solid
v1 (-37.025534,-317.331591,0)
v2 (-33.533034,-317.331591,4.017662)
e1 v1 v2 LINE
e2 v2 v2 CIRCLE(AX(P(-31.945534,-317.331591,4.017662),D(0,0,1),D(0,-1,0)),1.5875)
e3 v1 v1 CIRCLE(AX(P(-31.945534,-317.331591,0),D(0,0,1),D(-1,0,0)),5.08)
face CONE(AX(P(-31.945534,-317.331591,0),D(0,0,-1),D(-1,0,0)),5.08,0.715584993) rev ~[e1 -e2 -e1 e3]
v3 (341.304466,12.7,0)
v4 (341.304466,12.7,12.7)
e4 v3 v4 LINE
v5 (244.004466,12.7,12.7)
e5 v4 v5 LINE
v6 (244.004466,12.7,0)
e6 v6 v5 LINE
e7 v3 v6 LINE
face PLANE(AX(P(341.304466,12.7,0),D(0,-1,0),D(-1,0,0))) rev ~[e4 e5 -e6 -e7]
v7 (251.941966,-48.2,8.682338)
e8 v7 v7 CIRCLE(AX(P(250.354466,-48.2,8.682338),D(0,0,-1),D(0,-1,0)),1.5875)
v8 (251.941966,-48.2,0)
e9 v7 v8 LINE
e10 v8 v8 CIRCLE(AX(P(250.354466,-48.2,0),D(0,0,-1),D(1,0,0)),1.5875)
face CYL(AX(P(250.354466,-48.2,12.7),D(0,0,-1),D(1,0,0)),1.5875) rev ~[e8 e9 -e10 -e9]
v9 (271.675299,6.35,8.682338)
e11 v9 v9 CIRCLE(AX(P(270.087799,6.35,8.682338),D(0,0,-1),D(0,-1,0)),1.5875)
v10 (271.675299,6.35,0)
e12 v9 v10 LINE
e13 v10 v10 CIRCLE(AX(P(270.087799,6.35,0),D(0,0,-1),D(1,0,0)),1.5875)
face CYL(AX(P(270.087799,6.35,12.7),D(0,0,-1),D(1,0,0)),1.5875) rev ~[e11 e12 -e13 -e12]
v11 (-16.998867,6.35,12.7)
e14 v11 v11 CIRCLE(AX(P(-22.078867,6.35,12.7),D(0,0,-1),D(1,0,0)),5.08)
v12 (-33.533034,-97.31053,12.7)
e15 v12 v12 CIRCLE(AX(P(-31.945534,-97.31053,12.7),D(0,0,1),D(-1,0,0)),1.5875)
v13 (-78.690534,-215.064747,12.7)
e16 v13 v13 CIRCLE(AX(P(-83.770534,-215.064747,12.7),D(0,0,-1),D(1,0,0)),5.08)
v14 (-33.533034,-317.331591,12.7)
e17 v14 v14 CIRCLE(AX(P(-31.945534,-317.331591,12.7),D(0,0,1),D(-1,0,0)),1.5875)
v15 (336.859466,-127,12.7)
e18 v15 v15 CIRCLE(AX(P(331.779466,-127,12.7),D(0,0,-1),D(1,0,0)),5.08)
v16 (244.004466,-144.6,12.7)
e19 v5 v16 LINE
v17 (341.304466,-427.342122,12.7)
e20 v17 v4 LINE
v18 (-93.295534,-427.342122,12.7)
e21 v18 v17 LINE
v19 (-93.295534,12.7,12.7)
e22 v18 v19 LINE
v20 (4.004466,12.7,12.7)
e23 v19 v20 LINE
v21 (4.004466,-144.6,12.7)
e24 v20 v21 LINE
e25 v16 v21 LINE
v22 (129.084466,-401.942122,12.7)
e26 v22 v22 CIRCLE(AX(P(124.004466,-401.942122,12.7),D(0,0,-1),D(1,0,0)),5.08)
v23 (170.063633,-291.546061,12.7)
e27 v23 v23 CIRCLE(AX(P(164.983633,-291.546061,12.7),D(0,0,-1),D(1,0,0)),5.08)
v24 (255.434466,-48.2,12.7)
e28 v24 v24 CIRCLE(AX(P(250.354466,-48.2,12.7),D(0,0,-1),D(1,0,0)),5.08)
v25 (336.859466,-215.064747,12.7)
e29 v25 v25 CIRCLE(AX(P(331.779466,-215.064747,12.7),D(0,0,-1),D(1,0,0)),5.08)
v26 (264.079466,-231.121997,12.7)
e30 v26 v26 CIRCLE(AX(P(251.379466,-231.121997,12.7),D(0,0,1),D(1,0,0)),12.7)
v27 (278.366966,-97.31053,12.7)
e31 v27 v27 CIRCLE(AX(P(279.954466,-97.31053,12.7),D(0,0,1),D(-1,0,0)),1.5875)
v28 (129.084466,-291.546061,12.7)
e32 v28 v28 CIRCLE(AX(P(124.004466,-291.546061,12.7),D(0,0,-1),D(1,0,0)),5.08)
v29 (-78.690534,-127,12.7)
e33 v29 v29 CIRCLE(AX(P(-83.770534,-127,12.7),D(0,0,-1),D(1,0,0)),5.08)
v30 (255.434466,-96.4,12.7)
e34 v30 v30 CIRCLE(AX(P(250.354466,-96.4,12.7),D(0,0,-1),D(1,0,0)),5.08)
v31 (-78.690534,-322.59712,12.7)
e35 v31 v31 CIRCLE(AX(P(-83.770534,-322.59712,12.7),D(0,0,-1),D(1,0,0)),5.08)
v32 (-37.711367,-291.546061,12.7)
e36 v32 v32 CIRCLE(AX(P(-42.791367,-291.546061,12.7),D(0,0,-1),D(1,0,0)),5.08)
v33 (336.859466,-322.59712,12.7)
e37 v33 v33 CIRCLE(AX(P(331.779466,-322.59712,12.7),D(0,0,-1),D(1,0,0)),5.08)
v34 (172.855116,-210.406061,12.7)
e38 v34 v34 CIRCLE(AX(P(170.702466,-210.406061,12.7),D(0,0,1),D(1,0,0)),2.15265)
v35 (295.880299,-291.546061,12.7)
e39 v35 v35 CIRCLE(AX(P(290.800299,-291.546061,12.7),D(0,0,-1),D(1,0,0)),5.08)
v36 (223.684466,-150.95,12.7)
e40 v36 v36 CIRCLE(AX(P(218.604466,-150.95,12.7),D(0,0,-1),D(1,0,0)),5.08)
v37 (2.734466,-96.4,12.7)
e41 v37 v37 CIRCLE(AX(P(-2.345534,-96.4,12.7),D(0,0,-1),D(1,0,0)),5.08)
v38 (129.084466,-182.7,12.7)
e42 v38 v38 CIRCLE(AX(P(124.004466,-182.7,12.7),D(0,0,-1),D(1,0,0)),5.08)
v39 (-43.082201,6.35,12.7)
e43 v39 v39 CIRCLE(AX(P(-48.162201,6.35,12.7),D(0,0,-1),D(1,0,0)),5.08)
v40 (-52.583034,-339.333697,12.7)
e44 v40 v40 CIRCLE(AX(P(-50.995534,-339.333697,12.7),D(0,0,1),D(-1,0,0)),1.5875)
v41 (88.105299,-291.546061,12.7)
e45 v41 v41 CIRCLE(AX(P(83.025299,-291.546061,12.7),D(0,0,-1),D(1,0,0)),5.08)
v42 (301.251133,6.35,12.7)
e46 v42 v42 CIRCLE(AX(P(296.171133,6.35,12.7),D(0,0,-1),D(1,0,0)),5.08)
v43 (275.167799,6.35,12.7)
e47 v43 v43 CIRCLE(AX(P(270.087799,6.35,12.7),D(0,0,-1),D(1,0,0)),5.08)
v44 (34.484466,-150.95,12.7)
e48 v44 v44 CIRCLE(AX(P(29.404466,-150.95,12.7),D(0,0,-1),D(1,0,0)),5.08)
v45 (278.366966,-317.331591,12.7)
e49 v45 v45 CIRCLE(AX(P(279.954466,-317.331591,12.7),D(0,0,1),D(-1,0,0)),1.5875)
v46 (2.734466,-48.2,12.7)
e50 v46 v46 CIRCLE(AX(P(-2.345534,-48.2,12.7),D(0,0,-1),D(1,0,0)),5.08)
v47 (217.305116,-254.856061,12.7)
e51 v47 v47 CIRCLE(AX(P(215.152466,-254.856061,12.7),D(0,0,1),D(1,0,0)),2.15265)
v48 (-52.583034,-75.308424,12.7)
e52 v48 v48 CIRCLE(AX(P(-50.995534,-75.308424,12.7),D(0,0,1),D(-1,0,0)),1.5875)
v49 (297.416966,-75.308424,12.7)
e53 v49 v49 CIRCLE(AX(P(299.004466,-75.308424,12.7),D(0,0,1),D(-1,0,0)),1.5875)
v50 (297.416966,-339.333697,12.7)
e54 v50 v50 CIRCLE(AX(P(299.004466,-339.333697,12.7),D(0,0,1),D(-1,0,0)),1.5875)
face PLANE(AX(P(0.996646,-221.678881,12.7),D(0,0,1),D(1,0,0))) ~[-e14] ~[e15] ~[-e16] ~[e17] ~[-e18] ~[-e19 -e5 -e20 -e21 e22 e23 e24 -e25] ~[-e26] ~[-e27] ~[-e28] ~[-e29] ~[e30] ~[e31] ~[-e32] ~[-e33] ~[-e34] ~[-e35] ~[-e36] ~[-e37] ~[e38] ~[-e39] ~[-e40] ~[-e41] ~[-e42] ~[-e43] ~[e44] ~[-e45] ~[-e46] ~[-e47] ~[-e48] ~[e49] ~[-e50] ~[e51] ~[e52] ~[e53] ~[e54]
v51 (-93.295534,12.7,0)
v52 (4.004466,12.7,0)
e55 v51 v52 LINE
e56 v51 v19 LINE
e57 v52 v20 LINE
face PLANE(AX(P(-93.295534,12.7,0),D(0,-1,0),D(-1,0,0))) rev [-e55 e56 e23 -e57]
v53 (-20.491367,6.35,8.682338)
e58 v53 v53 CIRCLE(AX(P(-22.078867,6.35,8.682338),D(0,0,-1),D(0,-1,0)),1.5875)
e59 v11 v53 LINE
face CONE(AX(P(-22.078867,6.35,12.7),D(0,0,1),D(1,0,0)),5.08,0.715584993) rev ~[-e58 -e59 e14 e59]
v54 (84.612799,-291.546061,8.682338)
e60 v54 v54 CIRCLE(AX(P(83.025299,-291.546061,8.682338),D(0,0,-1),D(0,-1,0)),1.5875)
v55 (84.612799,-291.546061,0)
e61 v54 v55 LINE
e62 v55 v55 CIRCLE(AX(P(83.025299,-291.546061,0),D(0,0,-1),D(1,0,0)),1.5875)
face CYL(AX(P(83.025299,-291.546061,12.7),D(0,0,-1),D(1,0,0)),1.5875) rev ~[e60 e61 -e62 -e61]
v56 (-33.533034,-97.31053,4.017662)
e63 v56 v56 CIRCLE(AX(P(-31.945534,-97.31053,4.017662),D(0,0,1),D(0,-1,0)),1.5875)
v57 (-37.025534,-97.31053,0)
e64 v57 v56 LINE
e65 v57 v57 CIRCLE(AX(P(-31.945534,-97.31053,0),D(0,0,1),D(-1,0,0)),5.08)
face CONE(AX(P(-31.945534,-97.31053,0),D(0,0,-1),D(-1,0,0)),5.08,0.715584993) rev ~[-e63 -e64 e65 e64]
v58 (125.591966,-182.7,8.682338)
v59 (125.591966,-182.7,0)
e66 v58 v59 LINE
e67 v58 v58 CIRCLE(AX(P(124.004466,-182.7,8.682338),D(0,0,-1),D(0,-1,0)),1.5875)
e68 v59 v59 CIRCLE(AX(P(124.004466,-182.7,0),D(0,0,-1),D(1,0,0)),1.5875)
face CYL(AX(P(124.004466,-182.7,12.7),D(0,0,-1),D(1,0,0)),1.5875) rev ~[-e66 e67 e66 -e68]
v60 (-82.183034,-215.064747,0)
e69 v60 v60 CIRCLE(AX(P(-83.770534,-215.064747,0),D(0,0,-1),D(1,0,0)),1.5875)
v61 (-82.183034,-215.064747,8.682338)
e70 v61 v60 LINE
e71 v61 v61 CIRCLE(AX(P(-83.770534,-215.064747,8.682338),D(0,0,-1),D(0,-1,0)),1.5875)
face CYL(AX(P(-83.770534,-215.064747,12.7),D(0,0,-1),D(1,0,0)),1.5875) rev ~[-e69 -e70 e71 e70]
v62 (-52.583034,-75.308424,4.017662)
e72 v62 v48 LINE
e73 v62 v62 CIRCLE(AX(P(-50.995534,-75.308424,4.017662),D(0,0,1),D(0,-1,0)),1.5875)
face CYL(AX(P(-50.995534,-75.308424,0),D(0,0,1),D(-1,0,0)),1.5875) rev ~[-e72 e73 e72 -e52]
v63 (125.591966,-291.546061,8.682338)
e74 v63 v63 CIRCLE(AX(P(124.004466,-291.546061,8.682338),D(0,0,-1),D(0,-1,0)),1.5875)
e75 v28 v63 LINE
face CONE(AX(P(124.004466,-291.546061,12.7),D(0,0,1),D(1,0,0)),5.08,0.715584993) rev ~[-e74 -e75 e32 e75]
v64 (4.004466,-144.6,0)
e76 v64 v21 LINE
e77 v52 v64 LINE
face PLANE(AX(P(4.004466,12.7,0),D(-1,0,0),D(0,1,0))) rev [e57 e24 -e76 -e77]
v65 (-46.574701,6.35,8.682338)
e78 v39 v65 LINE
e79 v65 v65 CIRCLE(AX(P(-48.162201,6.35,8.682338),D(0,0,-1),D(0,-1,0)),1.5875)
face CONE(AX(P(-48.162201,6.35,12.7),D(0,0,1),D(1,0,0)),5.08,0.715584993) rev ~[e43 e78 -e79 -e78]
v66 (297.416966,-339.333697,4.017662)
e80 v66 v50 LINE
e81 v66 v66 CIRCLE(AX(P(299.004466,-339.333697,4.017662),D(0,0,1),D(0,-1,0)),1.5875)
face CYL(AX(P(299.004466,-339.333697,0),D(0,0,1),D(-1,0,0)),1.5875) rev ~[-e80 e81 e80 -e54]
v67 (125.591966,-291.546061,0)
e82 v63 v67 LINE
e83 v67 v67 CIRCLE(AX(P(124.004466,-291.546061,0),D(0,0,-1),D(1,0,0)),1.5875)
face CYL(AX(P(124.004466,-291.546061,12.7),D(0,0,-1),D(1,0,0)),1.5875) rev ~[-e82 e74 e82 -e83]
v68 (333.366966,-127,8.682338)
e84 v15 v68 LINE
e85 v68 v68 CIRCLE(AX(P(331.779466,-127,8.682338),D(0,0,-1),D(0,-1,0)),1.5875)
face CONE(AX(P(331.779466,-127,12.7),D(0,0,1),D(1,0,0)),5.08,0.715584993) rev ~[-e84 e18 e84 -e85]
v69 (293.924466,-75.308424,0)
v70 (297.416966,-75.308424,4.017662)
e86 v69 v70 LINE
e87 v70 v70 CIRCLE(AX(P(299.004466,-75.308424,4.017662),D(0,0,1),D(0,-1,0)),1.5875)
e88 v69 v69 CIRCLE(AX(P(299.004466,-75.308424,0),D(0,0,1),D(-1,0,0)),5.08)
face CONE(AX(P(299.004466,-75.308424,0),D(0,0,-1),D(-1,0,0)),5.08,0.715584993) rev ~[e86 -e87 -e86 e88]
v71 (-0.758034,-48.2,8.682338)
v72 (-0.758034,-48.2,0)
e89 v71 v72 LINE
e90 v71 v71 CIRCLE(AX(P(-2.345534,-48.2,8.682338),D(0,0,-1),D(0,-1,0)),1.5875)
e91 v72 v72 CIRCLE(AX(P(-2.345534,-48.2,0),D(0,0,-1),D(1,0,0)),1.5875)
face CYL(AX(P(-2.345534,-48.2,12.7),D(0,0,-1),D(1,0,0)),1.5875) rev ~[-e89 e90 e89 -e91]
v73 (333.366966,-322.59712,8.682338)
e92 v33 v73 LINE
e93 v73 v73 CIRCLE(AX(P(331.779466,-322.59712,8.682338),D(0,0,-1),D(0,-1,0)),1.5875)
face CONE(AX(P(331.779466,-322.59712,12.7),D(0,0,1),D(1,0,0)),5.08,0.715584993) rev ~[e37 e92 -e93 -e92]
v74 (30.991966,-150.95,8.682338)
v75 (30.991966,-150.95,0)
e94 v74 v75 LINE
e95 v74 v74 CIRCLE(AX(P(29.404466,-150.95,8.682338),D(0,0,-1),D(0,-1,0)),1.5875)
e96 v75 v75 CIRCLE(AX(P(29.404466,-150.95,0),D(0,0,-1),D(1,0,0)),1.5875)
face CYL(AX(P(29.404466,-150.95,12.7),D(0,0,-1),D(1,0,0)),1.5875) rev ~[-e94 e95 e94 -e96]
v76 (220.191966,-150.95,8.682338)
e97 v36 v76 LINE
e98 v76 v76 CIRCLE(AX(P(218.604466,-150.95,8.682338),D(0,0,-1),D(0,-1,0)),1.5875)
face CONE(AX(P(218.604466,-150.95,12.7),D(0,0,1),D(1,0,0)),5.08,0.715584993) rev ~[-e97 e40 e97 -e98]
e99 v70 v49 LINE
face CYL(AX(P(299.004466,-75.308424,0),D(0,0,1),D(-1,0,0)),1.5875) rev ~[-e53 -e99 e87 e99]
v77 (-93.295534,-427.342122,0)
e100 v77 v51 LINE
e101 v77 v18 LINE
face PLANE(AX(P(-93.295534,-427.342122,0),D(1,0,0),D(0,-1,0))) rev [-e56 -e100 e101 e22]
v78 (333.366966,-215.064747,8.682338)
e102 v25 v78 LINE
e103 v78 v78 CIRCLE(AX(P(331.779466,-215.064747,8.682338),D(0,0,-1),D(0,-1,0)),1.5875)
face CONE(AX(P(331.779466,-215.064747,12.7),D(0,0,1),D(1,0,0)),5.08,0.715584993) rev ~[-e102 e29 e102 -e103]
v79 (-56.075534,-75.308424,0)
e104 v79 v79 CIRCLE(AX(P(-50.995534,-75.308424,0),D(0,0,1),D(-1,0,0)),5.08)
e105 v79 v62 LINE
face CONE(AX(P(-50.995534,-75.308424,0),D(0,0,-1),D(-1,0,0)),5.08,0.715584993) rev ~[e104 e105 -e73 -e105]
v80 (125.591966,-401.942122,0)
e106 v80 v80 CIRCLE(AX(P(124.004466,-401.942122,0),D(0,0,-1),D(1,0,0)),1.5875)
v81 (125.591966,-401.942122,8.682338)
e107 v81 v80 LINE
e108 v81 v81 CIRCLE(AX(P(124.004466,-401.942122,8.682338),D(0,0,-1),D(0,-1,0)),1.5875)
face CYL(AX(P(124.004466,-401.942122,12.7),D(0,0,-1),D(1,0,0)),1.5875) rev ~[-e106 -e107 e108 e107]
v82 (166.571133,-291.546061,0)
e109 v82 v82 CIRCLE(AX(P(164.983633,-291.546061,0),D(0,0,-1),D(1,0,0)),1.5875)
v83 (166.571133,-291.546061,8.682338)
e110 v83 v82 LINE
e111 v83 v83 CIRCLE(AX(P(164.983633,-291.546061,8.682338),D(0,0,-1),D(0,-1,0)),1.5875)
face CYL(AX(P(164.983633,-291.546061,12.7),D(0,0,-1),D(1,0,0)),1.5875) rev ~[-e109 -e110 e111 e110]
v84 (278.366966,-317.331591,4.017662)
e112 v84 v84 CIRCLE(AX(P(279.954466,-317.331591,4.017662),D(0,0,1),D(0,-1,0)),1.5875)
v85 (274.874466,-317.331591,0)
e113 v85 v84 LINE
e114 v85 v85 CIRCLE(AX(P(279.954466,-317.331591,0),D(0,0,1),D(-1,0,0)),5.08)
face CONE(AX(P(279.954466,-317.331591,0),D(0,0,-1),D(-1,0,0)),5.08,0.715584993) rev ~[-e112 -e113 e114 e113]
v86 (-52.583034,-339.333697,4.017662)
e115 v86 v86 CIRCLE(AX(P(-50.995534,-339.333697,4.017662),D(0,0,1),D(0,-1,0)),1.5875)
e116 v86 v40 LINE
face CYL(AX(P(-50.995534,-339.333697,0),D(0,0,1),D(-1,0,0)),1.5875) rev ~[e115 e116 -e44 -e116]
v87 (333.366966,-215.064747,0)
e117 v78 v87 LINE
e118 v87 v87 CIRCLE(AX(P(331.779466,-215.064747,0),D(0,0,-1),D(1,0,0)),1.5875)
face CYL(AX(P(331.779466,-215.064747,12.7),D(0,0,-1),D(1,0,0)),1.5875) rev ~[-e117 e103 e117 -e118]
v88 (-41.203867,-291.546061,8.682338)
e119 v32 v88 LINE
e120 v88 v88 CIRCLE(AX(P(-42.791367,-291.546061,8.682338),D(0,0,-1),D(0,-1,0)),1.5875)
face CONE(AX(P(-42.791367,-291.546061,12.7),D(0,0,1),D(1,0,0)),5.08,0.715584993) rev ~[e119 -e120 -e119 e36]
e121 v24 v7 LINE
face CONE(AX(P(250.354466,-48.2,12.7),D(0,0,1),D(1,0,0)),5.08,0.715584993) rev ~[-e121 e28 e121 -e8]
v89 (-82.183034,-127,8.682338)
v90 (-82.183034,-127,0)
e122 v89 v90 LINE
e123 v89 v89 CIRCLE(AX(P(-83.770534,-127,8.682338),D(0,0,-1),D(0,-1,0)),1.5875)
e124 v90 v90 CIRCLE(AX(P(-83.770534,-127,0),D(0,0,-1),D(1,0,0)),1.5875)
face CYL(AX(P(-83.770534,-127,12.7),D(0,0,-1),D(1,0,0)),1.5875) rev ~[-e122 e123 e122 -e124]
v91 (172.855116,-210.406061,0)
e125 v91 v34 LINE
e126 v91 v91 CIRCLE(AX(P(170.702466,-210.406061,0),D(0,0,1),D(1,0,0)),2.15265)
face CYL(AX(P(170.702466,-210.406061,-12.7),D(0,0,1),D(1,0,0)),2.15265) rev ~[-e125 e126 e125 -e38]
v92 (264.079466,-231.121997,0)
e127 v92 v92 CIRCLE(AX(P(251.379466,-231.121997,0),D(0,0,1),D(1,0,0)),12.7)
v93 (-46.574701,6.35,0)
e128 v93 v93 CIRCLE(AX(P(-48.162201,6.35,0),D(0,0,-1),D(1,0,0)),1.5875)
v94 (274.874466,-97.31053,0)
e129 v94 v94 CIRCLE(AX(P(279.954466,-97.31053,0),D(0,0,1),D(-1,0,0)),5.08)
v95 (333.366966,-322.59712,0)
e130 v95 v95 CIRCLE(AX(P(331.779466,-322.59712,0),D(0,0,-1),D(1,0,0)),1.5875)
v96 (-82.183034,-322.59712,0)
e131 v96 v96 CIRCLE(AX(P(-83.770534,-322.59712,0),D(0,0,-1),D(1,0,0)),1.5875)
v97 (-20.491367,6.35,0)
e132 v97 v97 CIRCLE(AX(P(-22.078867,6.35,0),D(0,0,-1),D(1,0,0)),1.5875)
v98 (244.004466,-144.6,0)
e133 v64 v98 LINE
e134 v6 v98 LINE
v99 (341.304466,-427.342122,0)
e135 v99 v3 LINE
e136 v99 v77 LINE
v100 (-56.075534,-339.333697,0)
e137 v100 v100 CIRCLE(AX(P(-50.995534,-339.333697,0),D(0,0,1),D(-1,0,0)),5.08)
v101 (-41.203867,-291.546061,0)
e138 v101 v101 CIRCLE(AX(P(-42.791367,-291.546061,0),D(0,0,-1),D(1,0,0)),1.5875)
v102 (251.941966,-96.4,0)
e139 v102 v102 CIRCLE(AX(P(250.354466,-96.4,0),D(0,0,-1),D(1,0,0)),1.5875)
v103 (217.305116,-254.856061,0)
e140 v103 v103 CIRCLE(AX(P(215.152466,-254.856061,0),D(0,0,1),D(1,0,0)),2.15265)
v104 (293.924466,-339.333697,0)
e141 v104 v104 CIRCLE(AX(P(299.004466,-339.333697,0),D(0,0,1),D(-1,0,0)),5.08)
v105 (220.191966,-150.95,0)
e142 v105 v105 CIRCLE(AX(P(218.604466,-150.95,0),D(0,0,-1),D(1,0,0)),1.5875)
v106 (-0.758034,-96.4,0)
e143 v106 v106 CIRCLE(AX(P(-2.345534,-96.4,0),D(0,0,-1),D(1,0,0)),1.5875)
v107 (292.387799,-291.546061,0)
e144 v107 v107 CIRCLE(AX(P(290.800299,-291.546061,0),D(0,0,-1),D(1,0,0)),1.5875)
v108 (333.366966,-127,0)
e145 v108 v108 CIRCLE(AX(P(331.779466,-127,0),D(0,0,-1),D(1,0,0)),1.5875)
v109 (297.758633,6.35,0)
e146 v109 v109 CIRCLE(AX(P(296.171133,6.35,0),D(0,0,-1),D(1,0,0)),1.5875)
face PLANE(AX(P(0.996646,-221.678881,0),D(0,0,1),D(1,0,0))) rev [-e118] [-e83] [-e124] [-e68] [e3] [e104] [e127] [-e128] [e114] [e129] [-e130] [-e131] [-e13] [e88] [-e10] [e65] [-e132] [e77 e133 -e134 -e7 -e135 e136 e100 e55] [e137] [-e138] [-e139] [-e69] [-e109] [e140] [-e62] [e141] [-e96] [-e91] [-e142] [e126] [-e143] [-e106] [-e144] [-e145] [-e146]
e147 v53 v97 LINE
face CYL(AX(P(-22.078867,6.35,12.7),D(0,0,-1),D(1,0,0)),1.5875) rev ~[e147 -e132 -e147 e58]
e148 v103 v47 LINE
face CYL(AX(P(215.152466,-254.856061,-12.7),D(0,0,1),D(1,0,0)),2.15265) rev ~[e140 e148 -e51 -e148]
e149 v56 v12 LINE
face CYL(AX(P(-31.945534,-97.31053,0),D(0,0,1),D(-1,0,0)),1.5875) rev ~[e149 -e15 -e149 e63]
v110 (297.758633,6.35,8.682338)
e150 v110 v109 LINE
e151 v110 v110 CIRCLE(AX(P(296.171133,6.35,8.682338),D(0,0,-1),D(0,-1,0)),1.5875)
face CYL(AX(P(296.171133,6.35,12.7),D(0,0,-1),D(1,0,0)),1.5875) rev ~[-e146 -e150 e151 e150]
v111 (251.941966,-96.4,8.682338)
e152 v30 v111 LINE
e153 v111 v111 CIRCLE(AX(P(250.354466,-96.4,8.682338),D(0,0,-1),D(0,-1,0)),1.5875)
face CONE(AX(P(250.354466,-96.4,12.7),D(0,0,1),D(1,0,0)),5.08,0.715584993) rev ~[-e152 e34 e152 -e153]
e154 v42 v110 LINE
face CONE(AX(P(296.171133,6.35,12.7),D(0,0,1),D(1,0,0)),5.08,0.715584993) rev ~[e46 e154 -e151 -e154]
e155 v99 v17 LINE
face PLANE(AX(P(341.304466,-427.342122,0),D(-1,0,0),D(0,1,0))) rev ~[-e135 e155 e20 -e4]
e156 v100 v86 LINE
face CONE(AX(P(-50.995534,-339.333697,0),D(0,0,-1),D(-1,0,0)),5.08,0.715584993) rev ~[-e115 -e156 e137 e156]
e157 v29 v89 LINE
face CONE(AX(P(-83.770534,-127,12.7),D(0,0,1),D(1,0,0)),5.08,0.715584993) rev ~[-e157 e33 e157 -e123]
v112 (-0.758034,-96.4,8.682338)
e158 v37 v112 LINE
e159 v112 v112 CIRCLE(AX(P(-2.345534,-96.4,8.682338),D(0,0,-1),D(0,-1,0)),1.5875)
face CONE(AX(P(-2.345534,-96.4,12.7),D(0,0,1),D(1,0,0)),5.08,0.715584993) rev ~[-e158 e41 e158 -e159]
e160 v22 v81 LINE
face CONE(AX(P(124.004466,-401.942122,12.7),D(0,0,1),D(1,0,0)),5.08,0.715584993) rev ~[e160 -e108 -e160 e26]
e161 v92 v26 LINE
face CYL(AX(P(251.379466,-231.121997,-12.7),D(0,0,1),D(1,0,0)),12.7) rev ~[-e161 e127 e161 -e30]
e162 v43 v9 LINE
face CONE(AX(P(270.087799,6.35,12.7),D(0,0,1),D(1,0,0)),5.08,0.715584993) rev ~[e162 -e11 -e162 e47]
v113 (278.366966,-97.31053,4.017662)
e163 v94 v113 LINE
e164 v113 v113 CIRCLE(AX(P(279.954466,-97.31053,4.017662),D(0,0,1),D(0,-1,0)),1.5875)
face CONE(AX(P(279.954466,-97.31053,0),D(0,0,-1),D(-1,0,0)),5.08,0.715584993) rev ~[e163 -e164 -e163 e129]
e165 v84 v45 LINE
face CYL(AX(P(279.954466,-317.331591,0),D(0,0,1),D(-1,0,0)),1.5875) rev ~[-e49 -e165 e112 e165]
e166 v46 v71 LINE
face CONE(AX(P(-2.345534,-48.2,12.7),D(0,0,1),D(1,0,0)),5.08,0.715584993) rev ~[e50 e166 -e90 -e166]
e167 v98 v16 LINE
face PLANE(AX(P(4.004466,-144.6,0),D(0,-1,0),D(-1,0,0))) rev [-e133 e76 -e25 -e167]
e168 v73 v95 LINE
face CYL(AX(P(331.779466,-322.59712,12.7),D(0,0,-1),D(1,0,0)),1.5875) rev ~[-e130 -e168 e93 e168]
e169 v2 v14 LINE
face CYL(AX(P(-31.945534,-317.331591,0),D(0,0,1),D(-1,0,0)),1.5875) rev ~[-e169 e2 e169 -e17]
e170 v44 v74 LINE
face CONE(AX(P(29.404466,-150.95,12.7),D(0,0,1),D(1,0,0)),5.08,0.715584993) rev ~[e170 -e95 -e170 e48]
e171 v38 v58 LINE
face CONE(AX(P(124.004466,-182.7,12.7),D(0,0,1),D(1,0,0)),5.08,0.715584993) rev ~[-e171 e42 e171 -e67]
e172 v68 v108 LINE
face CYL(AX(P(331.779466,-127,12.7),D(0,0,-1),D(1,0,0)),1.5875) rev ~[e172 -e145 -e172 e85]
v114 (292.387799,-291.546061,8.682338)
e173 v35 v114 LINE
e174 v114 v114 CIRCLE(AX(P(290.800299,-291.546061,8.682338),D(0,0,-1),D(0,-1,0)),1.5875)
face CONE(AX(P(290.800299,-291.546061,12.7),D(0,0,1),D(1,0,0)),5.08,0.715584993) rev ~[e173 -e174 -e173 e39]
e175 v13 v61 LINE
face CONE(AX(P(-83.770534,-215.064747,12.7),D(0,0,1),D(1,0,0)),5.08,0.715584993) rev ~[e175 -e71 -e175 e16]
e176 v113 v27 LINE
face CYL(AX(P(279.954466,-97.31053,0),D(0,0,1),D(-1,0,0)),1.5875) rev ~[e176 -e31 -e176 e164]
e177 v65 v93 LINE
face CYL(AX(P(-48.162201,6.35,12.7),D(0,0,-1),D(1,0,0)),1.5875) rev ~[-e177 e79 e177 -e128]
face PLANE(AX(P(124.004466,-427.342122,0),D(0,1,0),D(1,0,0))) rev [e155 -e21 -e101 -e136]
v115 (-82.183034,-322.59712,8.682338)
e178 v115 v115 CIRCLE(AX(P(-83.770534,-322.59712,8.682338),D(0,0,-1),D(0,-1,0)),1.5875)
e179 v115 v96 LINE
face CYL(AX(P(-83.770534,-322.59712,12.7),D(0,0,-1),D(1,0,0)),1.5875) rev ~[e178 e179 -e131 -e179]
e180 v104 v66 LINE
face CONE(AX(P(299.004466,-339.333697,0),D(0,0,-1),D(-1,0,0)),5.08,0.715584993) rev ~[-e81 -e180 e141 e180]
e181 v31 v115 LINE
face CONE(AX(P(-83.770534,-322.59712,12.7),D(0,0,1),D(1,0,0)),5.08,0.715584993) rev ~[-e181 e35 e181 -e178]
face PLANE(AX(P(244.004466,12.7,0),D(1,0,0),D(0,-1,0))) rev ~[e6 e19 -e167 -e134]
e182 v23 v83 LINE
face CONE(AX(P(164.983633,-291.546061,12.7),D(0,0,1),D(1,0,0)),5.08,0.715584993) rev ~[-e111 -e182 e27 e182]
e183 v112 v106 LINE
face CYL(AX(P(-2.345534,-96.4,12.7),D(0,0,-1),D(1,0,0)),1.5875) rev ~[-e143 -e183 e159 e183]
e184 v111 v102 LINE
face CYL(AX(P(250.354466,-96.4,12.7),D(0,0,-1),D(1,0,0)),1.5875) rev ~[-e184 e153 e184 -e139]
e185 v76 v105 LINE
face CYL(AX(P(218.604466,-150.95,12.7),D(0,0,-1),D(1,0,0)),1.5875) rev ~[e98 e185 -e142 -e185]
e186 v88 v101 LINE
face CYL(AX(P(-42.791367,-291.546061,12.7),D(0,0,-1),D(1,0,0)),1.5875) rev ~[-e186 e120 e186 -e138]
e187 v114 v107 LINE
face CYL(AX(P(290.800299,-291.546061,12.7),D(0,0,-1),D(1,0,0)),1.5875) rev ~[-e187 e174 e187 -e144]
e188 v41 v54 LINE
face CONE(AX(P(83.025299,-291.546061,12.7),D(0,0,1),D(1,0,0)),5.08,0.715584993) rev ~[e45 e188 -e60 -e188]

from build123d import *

# Parameters (mm, degrees)
BOSS_EXTRUDE1_DEPTH        = 12.7
HOLE1_D                    = 3.175
HOLE1_DEPTH                = 31.75
HOLE1_CSINK_D              = 10.16
HOLE1_CSINK_ANGLE          = 82
HOLE1_TIP                  = 0.953866233
HOLE2_D                    = 3.175
HOLE2_DEPTH                = 31.75
HOLE2_CSINK_D              = 10.16
HOLE2_CSINK_ANGLE          = 82
HOLE2_TIP                  = 0.953866233
F_1_1_DIAMETER_HOLE1_D     = 25.4
F_1_1_DIAMETER_HOLE1_DEPTH = 12.7
F_6_CLEARANCE_HOLE1_D      = 4.3053
F_6_CLEARANCE_HOLE1_DEPTH  = 12.7


with BuildPart() as part:
    # Sketch1 → Boss-Extrude1 (new body)
    with BuildSketch(Plane.XY):
        Polygon((341.304465963, 12.7), (244.004465963, 12.7), (244.004465963, -144.6), (124.004465969, -144.6), (124.004465969, -427.342121692), (341.304465963, -427.342121692), align=None)
    boss_extrude1 = extrude(amount=BOSS_EXTRUDE1_DEPTH)

    # Mirror1: Boss-Extrude1 across plane
    add(boss_extrude1.mirror(Plane(origin=(124.004465969, -144.6, 12.7), x_dir=(0, 0, 1), z_dir=(1, 0, 0))))

    # Hole1
    with Locations(Plane(origin=(124.004465969, 10.424290059, 12.7), x_dir=(-1, 0, 0), z_dir=(0, 0, 1))):
        with Locations((-207.774999994, 333.02141023), (-207.774999994, 225.48903684), (-207.774999994, 137.424290059), (-172.166666661, 4.074290059), (-146.083333327, 4.074290059), (-94.599999994, 161.374290059), (94.599999994, 161.374290059), (146.083333327, 4.074290059), (172.166666661, 4.074290059), (207.774999994, 137.424290059), (207.774999994, 225.48903684), (207.774999994, 333.02141023), (166.795833328, 301.970350905), (40.979166666, 301.970350905), (-40.979166666, 301.970350905), (-166.795833328, 301.970350905), (0, 193.124290059), (0, 301.970350905), (0, 412.366411751), (-126.349999994, 106.824290059), (-126.349999994, 58.624290059), (126.349999994, 58.624290059), (126.349999994, 106.824290059)):
            CounterSinkHole(HOLE1_D / 2, HOLE1_CSINK_D / 2, depth=HOLE1_DEPTH, counter_sink_angle=HOLE1_CSINK_ANGLE)
            with Locations((0, 0, -(HOLE1_DEPTH + HOLE1_TIP / 2))):  # 118° drill point
                Cone(0, HOLE1_D / 2, HOLE1_TIP, mode=Mode.SUBTRACT)

    # Hole2
    with Locations(Plane(origin=(124.004465969, 10.424290059, 0), x_dir=(1, 0, 0), z_dir=(0, 0, -1))):
        with Locations((-155.949999994, 107.734820482), (155.949999994, 107.734820482), (155.949999994, 327.755881328), (174.999999994, 85.732714397), (174.999999994, 349.757987412), (-174.999999994, 349.757987412), (-174.999999994, 85.732714397), (-155.949999994, 327.755881328)):
            CounterSinkHole(HOLE2_D / 2, HOLE2_CSINK_D / 2, depth=HOLE2_DEPTH, counter_sink_angle=HOLE2_CSINK_ANGLE)
            with Locations((0, 0, -(HOLE2_DEPTH + HOLE2_TIP / 2))):  # 118° drill point
                Cone(0, HOLE2_D / 2, HOLE2_TIP, mode=Mode.SUBTRACT)

    # 1 (1) Diameter Hole1
    with Locations(Plane(origin=(0, 0, 0), x_dir=(-1, 0, 0), z_dir=(0, 0, -1))):
        with Locations((-251.379465963, -231.121997256)):
            Hole(F_1_1_DIAMETER_HOLE1_D / 2, depth=F_1_1_DIAMETER_HOLE1_DEPTH)

    # #6 Clearance Hole1
    with Locations(Plane(origin=(0, 0, 0), x_dir=(-1, 0, 0), z_dir=(0, 0, -1))):
        with Locations((-215.152465963, -254.856060846), (-170.702465963, -210.406060846)):
            Hole(F_6_CLEARANCE_HOLE1_D / 2, depth=F_6_CLEARANCE_HOLE1_DEPTH)


solid = part.part
